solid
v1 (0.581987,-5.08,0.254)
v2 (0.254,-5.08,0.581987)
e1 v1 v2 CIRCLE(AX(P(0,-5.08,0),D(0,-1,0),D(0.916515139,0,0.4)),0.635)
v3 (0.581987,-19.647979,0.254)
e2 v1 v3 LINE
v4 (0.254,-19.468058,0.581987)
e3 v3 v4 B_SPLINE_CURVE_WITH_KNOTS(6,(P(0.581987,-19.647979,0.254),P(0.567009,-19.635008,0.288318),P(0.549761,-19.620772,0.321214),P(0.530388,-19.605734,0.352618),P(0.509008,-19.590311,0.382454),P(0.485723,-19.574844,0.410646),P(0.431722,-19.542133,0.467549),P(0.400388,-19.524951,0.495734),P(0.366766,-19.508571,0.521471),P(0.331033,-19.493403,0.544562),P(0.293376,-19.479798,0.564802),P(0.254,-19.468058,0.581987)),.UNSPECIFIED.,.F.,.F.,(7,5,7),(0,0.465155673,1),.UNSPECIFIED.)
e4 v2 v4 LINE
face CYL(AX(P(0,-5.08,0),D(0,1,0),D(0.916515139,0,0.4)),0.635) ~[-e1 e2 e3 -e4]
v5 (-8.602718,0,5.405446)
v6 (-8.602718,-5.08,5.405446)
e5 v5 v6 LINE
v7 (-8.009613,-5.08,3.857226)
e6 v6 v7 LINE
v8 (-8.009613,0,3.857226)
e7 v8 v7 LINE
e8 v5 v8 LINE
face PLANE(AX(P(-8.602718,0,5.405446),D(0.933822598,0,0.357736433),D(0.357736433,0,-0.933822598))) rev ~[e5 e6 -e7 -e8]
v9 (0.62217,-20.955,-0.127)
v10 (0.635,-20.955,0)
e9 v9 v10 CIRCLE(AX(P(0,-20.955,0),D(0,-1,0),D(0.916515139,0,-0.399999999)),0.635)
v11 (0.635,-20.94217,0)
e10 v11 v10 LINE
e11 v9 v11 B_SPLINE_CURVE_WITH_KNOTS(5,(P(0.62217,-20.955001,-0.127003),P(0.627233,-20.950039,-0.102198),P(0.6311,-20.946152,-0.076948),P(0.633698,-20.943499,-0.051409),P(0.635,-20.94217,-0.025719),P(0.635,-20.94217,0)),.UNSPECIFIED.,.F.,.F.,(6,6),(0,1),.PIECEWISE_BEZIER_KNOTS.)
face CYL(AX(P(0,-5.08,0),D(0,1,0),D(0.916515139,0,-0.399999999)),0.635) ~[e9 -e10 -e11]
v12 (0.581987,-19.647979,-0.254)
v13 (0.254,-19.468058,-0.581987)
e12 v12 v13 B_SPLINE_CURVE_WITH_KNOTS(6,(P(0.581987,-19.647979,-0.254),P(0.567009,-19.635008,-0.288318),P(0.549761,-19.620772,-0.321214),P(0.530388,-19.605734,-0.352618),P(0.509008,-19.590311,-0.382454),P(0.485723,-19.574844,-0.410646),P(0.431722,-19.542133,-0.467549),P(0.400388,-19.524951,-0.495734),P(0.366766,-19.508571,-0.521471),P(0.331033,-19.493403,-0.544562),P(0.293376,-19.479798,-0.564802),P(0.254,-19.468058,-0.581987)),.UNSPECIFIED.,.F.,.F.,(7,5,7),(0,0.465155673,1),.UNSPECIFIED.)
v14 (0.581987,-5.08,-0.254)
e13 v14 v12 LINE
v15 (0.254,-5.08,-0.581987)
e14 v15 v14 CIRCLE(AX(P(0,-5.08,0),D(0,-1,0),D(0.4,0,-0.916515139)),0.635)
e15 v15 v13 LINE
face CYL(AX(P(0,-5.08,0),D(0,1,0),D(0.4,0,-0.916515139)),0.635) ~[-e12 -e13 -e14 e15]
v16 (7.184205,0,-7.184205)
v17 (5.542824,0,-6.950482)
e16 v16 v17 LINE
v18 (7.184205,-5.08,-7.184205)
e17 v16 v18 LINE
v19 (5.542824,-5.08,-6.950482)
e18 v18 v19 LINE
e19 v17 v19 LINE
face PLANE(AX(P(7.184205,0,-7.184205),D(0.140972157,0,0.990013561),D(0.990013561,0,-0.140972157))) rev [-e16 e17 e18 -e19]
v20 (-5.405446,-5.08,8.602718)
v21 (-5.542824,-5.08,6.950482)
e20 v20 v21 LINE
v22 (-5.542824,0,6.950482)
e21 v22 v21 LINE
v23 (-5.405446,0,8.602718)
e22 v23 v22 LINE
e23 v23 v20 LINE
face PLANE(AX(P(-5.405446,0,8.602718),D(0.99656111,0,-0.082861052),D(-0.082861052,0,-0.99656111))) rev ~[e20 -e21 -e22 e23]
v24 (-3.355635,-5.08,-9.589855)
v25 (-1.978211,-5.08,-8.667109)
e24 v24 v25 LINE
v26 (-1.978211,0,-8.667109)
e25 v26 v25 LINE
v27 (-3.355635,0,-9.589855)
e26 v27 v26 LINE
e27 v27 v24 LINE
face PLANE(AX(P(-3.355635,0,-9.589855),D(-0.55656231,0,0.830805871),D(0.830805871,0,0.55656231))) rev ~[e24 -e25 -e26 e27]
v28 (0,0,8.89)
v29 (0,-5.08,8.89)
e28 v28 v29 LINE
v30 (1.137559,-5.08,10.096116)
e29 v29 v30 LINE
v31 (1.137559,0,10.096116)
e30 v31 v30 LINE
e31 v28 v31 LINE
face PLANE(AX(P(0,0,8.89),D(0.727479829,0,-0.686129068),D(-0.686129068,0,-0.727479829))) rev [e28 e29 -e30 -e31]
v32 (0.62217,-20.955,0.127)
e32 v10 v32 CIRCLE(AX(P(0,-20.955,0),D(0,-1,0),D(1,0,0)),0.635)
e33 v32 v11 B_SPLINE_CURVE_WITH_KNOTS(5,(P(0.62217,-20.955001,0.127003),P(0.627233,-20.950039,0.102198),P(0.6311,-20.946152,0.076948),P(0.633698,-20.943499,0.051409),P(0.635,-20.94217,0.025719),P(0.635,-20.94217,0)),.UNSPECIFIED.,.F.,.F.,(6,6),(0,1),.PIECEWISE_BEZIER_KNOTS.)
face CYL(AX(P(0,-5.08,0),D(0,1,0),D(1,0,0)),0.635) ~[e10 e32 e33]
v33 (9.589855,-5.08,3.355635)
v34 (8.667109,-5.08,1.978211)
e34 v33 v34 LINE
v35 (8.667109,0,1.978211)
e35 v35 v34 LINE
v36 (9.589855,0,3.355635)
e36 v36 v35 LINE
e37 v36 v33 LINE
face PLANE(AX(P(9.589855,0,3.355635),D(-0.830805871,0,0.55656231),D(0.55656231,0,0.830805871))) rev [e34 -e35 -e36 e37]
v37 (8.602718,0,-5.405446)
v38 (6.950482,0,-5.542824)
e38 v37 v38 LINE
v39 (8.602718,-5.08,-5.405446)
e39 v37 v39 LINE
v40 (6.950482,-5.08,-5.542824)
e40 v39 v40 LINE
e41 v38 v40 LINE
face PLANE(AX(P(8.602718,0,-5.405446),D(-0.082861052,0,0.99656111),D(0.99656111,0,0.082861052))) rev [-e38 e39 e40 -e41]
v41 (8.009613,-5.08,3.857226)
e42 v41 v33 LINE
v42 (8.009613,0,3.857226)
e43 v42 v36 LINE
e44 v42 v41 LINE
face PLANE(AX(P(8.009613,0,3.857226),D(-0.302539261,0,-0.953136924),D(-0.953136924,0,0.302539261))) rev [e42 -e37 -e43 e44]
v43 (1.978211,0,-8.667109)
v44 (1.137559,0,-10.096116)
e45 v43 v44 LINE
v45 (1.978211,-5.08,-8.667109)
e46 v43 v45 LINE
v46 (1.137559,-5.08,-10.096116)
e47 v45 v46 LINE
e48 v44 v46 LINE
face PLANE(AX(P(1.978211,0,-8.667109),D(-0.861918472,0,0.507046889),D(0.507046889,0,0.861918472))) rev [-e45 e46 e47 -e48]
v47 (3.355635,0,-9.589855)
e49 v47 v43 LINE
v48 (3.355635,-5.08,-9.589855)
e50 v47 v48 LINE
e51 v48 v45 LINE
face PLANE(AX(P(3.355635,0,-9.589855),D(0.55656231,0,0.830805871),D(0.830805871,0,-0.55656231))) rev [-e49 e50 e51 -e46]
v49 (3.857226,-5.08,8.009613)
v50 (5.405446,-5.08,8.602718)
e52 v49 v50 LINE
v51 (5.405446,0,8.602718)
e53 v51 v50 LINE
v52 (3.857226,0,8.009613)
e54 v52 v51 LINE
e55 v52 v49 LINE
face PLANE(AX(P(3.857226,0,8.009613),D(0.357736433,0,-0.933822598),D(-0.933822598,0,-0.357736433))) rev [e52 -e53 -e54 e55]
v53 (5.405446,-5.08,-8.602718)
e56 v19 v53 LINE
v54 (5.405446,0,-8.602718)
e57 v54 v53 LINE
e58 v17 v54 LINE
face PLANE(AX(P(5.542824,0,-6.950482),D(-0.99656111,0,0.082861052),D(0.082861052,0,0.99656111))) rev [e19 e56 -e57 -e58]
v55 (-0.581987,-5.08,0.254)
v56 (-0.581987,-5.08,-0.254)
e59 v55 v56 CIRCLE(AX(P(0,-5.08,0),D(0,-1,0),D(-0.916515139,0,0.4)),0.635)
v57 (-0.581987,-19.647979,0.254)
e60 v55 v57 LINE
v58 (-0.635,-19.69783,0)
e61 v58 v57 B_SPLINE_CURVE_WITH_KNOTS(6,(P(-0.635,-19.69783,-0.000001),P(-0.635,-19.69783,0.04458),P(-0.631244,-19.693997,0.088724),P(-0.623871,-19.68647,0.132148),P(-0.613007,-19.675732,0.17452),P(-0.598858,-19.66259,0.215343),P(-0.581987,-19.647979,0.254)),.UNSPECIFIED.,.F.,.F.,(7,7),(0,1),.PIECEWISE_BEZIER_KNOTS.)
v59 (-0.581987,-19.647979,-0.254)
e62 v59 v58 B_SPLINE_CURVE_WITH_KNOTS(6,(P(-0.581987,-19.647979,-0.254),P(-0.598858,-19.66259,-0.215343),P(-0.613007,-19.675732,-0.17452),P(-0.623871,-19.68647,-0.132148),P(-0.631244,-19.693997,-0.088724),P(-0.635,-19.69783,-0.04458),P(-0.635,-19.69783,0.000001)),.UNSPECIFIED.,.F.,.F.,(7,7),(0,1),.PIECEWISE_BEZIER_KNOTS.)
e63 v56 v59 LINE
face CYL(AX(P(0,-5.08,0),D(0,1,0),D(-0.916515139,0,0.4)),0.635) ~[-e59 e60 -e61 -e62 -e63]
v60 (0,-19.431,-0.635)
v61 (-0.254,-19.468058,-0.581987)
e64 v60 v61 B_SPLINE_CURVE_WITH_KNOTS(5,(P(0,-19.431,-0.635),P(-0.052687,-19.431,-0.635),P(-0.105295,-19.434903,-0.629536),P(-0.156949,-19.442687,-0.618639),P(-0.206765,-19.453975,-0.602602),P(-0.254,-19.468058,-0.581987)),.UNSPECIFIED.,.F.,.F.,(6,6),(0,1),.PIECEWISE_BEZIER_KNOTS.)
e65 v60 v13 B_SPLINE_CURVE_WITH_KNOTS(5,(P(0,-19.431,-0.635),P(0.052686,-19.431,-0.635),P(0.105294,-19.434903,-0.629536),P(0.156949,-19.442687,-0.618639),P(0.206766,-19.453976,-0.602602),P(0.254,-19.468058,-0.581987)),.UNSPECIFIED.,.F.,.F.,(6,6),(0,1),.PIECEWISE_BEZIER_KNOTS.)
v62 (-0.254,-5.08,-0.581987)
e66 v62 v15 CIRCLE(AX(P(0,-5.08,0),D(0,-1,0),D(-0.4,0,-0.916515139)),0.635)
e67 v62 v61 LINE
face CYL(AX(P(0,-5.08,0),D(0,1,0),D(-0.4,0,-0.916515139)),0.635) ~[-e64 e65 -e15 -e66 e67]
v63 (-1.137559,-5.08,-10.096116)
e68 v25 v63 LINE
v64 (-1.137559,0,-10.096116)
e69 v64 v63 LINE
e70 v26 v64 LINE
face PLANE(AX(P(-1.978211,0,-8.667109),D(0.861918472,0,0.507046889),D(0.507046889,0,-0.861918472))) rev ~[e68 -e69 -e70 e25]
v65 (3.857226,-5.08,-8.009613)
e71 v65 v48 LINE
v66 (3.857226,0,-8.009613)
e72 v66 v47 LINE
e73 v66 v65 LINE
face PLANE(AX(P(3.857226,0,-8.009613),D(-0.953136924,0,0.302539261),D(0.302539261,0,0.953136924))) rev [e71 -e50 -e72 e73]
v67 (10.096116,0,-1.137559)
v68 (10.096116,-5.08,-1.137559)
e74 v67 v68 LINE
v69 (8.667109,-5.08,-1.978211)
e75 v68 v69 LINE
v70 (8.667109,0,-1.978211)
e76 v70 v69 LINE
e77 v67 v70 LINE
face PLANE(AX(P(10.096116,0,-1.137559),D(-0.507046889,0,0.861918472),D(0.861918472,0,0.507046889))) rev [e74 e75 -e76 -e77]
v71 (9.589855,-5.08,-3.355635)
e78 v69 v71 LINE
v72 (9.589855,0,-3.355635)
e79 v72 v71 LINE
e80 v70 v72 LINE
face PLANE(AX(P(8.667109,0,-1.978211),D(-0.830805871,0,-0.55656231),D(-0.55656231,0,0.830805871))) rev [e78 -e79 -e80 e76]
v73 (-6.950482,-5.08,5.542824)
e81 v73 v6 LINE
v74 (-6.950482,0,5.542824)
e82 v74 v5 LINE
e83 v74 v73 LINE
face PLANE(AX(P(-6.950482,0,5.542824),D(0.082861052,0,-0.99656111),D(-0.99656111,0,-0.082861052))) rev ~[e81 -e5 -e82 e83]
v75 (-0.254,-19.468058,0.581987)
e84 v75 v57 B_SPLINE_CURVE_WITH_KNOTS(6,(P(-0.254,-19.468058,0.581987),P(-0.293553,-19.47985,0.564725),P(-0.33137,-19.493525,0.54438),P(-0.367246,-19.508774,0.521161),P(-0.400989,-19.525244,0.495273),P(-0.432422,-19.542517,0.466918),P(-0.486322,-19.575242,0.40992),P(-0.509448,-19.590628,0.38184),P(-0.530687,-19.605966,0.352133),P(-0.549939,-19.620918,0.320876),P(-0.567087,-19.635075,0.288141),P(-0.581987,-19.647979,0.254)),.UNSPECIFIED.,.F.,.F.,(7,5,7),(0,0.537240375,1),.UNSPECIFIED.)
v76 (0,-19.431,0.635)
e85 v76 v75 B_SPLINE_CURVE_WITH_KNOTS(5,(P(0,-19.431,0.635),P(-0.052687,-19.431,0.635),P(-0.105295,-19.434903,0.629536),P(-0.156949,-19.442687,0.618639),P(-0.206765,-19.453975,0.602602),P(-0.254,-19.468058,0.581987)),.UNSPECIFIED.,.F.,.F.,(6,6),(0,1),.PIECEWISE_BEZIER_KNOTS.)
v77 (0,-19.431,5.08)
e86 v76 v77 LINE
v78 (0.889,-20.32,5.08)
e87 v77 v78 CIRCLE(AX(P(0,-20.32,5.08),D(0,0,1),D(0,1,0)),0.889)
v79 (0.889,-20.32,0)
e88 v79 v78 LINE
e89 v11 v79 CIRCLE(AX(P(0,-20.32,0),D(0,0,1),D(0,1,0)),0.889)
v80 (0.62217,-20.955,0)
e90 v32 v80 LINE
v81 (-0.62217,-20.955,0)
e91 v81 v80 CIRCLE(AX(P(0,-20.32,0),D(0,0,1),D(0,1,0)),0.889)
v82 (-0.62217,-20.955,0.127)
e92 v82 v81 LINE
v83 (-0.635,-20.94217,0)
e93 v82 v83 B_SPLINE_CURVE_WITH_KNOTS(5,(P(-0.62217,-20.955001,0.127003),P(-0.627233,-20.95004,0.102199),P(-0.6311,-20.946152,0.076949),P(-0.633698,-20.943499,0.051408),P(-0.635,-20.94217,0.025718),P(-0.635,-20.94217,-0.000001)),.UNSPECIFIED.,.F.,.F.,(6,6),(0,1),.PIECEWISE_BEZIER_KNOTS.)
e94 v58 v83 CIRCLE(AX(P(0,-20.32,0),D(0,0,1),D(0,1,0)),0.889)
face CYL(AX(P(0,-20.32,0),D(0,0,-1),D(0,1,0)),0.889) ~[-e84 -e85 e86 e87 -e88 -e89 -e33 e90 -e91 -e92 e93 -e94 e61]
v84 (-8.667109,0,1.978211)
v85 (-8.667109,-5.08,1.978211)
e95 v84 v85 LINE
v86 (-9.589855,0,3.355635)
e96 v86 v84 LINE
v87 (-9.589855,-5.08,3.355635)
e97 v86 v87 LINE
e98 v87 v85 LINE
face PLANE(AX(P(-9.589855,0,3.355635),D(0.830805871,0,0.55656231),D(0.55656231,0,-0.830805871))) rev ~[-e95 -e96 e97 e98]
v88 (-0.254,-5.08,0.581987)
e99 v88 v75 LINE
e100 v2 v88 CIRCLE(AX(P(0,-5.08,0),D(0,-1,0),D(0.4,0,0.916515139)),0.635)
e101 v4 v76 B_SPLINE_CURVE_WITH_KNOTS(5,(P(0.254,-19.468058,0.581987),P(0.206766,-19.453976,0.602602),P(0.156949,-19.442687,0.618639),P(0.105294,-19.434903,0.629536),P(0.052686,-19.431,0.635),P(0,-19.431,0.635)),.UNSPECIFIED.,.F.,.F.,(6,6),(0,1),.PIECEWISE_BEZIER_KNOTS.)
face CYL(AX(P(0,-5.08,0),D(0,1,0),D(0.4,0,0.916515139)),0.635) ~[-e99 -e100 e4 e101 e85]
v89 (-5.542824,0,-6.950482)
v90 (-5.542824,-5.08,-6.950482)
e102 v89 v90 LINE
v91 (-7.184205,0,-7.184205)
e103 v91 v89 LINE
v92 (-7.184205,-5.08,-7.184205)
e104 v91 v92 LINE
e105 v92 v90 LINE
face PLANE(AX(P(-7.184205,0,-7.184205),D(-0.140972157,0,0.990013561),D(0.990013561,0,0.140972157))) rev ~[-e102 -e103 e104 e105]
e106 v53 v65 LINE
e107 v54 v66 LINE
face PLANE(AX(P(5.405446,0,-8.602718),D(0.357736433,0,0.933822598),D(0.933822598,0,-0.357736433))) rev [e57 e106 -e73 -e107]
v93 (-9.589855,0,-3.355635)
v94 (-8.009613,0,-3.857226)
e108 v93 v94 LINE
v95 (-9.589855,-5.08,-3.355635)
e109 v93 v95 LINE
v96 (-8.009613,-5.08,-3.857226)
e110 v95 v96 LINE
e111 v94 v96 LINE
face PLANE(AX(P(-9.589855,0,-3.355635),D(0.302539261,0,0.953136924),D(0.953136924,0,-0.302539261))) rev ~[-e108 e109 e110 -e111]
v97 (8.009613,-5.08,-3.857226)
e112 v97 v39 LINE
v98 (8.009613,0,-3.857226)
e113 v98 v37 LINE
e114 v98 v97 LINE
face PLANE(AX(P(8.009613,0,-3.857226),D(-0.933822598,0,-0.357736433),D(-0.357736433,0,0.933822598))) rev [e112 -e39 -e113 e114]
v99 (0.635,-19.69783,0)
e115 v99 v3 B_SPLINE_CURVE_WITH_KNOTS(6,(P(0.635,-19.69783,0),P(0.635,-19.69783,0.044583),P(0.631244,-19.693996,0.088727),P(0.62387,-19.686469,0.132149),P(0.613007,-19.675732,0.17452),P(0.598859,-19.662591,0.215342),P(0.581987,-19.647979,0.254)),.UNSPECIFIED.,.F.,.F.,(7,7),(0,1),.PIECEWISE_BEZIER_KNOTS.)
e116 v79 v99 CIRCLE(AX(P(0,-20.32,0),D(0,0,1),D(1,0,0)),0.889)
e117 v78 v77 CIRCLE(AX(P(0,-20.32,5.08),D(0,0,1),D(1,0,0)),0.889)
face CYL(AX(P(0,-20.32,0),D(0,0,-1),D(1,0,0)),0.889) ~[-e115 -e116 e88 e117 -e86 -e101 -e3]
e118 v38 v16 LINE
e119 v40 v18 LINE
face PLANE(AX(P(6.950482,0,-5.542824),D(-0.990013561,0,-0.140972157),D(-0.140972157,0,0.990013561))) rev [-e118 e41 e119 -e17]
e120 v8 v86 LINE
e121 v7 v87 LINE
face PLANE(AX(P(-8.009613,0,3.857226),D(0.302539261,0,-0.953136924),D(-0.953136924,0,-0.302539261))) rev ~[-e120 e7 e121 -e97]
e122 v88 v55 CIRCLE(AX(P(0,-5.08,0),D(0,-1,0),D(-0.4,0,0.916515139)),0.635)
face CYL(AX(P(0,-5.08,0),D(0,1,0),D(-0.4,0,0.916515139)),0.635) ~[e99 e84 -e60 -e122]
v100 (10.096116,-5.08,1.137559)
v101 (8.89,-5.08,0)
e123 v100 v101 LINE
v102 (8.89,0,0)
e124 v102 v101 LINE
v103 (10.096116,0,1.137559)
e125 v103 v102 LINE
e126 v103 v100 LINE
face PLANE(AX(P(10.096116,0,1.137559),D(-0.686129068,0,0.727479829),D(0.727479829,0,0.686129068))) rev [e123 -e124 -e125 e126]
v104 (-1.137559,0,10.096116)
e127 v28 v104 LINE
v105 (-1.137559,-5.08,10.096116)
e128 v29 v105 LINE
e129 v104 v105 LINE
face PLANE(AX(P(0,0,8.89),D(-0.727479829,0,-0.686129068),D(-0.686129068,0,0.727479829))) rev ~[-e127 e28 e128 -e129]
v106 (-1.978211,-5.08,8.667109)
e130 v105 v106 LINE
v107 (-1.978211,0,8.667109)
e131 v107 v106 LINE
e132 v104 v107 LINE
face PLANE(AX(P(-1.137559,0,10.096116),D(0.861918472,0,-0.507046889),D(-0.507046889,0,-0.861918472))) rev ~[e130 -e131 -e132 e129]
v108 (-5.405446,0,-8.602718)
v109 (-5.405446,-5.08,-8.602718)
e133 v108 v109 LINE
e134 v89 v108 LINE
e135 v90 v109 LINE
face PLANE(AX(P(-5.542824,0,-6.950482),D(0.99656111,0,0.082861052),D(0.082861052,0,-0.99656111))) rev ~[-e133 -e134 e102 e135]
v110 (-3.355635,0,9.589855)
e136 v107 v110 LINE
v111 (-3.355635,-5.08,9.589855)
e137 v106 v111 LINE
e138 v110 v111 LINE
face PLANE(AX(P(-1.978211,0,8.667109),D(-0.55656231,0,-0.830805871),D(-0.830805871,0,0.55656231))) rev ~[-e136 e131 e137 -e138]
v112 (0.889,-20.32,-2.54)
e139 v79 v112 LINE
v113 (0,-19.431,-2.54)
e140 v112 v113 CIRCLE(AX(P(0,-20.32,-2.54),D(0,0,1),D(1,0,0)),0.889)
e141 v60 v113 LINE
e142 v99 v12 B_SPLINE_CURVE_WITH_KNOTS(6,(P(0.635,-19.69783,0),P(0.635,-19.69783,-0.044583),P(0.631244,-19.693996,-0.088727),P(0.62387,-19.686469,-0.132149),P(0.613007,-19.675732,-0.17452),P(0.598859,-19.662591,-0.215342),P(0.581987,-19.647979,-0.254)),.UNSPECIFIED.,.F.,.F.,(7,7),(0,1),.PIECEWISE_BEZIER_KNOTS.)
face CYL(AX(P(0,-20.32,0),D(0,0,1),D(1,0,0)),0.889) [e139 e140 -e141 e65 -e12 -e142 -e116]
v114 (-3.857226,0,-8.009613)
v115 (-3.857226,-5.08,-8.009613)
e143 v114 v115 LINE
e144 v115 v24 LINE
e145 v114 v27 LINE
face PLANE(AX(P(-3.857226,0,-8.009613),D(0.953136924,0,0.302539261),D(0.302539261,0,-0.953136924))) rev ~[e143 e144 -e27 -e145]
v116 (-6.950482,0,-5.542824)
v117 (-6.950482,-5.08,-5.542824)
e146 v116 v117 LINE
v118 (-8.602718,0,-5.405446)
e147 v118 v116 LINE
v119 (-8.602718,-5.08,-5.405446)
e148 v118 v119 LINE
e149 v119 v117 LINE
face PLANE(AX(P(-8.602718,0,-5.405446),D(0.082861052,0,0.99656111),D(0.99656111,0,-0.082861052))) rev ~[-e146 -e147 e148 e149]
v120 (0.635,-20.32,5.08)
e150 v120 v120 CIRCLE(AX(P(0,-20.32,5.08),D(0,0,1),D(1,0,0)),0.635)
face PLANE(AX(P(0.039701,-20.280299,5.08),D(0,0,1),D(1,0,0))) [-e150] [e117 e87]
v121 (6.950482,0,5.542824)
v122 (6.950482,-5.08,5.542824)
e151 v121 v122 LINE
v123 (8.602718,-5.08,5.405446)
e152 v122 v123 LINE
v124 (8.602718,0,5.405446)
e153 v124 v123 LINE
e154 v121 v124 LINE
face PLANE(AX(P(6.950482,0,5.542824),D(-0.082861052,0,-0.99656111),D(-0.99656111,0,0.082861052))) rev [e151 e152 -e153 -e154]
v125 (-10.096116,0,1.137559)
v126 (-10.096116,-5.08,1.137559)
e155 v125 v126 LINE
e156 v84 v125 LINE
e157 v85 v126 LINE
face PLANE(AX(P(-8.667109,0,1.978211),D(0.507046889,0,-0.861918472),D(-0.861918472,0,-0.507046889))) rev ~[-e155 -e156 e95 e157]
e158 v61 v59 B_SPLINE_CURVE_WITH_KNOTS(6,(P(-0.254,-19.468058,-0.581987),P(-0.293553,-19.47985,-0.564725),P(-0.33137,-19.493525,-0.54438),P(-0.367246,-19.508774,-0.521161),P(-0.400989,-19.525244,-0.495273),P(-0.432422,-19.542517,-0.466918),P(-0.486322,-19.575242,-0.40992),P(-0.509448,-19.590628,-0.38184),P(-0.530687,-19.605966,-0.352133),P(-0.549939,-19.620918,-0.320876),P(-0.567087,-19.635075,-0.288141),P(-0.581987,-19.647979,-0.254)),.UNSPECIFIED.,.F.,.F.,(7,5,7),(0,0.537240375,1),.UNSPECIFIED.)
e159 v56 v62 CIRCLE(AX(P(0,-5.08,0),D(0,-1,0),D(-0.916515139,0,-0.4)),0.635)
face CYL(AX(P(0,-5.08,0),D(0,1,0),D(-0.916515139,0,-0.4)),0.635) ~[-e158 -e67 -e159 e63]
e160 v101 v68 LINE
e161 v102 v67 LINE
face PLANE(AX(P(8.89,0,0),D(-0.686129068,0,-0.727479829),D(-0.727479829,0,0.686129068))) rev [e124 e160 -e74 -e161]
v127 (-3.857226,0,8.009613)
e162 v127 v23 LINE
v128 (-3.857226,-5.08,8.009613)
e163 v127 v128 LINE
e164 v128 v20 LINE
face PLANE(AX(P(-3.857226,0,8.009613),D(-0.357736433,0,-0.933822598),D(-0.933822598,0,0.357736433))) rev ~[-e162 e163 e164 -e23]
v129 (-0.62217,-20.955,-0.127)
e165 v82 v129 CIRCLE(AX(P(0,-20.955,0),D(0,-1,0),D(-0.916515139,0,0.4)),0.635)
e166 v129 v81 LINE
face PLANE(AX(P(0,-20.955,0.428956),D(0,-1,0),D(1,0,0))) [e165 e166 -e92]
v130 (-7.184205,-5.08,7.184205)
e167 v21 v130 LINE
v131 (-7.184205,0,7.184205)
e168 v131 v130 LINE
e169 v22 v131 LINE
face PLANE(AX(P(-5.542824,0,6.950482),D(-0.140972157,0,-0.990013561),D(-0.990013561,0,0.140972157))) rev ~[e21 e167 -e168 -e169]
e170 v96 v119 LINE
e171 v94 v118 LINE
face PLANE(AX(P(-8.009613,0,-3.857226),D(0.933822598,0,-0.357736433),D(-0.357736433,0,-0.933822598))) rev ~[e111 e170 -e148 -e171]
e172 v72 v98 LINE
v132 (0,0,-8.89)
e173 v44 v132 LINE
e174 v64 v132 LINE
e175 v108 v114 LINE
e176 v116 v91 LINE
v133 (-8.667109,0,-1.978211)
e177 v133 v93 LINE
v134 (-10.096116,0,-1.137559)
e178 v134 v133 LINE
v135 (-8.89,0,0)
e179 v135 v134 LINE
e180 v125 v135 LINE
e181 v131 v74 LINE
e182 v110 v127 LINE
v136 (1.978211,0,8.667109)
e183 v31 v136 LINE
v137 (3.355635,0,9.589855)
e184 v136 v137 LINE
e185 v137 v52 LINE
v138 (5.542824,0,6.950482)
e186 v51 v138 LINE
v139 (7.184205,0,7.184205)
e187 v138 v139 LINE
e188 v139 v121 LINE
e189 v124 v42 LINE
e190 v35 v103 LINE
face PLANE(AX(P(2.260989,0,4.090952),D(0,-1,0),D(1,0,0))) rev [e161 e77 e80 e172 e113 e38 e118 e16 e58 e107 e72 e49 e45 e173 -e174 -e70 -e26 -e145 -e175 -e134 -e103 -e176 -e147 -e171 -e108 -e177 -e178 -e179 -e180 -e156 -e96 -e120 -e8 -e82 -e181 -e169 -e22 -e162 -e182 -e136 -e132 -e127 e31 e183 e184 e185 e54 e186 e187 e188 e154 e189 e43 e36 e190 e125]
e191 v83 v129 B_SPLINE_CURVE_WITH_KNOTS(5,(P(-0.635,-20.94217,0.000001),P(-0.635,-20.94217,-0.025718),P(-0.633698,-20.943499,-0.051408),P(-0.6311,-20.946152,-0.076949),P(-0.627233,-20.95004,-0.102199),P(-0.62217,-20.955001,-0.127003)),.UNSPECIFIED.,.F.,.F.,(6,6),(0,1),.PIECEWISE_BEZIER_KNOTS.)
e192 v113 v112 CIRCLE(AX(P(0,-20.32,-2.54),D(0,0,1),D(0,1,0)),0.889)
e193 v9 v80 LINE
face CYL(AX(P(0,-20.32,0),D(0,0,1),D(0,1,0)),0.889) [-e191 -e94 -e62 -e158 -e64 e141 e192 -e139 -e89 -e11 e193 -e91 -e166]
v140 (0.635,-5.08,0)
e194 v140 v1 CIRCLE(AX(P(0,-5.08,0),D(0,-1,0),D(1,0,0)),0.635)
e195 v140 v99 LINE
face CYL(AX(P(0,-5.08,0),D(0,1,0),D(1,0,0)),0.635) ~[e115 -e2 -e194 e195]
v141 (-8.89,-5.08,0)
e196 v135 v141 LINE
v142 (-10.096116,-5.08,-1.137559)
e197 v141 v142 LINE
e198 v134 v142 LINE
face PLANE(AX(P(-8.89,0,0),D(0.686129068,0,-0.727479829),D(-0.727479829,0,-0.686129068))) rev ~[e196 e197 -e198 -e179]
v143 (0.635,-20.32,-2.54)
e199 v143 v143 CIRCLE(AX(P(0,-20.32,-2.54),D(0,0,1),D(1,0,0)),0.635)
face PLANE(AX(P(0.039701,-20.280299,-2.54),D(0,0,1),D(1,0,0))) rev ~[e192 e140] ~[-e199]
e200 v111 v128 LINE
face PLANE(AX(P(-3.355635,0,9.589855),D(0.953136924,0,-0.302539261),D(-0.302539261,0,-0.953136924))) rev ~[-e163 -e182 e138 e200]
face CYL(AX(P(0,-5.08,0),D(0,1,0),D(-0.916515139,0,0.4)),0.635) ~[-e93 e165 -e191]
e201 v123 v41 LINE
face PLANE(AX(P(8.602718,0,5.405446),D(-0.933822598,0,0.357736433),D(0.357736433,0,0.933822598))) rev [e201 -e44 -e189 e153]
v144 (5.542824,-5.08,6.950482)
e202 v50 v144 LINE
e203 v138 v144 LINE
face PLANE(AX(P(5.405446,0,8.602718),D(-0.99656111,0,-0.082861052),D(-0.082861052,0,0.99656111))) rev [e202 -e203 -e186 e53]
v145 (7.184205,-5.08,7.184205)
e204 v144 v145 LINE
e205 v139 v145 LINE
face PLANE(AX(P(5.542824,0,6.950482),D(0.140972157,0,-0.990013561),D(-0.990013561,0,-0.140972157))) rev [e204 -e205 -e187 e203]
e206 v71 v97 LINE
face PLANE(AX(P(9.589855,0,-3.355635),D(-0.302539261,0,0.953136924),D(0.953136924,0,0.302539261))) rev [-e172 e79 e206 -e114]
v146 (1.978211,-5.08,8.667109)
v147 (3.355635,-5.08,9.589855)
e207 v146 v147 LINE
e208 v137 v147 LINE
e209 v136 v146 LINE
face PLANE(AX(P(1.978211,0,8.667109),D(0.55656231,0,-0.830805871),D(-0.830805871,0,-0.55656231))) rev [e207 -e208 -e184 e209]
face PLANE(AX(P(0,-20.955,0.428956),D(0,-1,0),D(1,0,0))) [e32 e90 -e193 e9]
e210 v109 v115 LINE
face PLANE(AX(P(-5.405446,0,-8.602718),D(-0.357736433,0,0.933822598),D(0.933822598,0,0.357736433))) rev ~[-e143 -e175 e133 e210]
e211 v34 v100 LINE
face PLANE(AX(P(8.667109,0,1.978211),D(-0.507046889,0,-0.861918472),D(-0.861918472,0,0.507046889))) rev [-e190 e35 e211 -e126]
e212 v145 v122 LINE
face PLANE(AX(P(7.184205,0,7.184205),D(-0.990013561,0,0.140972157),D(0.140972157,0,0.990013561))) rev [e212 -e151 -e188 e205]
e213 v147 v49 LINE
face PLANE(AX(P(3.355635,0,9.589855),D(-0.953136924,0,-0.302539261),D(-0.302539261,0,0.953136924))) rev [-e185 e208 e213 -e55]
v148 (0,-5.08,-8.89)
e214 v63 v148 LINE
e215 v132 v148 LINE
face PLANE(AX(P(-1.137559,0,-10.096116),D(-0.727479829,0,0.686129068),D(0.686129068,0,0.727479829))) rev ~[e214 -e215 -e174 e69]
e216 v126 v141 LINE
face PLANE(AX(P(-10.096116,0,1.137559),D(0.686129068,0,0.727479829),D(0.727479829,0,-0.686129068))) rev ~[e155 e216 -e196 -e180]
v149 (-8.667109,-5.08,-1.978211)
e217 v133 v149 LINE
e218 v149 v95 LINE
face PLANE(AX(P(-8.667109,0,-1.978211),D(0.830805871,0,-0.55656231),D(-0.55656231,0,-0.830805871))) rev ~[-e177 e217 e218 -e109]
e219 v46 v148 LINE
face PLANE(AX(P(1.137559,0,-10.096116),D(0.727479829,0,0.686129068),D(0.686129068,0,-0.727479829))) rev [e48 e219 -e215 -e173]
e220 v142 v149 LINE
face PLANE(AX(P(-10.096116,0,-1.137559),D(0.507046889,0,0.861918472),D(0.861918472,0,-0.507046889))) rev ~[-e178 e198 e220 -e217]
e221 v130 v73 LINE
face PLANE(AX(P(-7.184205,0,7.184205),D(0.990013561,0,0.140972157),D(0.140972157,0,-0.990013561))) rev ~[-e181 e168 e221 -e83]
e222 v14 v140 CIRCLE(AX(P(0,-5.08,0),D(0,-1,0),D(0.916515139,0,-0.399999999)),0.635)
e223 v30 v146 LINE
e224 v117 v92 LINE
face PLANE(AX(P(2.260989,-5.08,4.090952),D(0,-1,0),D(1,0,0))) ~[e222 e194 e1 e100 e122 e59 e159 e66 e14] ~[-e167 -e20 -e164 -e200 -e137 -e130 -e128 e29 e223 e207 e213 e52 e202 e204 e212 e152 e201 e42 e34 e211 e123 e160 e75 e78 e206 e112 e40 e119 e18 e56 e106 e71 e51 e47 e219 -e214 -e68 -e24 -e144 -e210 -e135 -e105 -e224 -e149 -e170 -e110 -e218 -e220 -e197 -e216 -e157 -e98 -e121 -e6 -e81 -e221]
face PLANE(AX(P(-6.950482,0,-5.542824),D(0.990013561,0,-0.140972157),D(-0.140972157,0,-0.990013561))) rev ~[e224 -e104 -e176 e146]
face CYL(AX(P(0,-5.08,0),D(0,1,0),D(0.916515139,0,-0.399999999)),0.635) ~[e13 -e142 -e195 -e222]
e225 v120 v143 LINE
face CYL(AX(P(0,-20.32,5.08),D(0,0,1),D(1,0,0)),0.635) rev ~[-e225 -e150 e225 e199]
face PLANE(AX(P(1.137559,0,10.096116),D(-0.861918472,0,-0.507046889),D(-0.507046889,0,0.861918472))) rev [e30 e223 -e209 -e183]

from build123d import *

# Parameters (mm, degrees)
F1_DEPTH      = 5.08
F3_W          = 0.508
F3_H          = 0.508
F4_DEPTH      = 15.875
F6_DEPTH      = 5.08
F6_DEPTH_BACK = 2.54
F7_R          = 0.635
F8_DEPTH      = 15.1771160525


with BuildPart() as f1:
    # F0 (on Front) → F1 (new body)
    with BuildSketch(Plane.XZ):
        with BuildLine():
            Line((-4.7297651602, 7.5273781311), (0, 0))
            Line((0, 0), (-3.8572264408, 8.0096132357))
            ThreePointArc((-3.8572264408, 8.0096132357), (-4.3002609064, 7.7807362208), (-4.7297651602, 7.5273781311))
        make_face()
        with BuildLine():
            Line((-5.5428243385, 6.9504818791), (0, 0))
            Line((0, 0), (-4.7297651602, 7.5273781311))
            ThreePointArc((-4.7297651602, 7.5273781311), (-5.144387823, 7.250336125), (-5.5428243385, 6.9504818791))
        make_face()
        with BuildLine():
            Line((-5.4054458974, 8.6027178642), (-5.5428243385, 6.9504818791))
            ThreePointArc((-5.5428243385, 6.9504818791), (-5.144387823, 7.250336125), (-4.7297651602, 7.5273781311))
            Line((-4.7297651602, 7.5273781311), (-5.4054458974, 8.6027178642))
        make_face()
        with BuildLine():
            Line((-5.4054458974, 8.6027178642), (-4.7297651602, 7.5273781311))
            ThreePointArc((-4.7297651602, 7.5273781311), (-4.3002609064, 7.7807362208), (-3.8572264408, 8.0096132357))
            Line((-3.8572264408, 8.0096132357), (-5.4054458974, 8.6027178642))
        make_face()
        with BuildLine():
            Line((-3.3556352695, 9.5898546359), (-3.8572264408, 8.0096132357))
            ThreePointArc((-3.8572264408, 8.0096132357), (-3.4020557137, 8.213289044), (-2.9361808608, 8.3911228064))
            Line((-2.9361808608, 8.3911228064), (-3.3556352695, 9.5898546359))
        make_face()
        with BuildLine():
            Line((-3.3556352695, 9.5898546359), (-2.9361808608, 8.3911228064))
            ThreePointArc((-2.9361808608, 8.3911228064), (-2.4610676966, 8.5425549921), (-1.9782111029, 8.6671091393))
            Line((-1.9782111029, 8.6671091393), (-3.3556352695, 9.5898546359))
        make_face()
        with BuildLine():
            Line((-2.9361808608, 8.3911228064), (0, 0))
            Line((0, 0), (-1.9782111029, 8.6671091393))
            ThreePointArc((-1.9782111029, 8.6671091393), (-2.4610676966, 8.5425549921), (-2.9361808608, 8.3911228064))
        make_face()
        with BuildLine():
            Line((-3.8572264408, 8.0096132357), (0, 0))
            Line((0, 0), (-2.9361808608, 8.3911228064))
            ThreePointArc((-2.9361808608, 8.3911228064), (-3.4020557137, 8.213289044), (-3.8572264408, 8.0096132357))
        make_face()
        with BuildLine():
            Line((-0.9953641926, 8.834101546), (0, 0))
            Line((0, 0), (0, 8.89))
            ThreePointArc((0, 8.89), (-0.4984662759, 8.8760143855), (-0.9953641926, 8.834101546))
        make_face()
        with BuildLine():
            ThreePointArc((-0.9953641926, 8.834101546), (-0.4984662759, 8.8760143855), (0, 8.89))
            Line((0, 8.89), (-1.1375590772, 10.0961160525))
            Line((-1.1375590772, 10.0961160525), (-0.9953641926, 8.834101546))
        make_face()
        with BuildLine():
            Line((-1.1375590772, 10.0961160525), (-1.9782111029, 8.6671091393))
            ThreePointArc((-1.9782111029, 8.6671091393), (-1.4891303252, 8.7643933546), (-0.9953641926, 8.834101546))
            Line((-0.9953641926, 8.834101546), (-1.1375590772, 10.0961160525))
        make_face()
        with BuildLine():
            Line((-1.9782111029, 8.6671091393), (0, 0))
            Line((0, 0), (-0.9953641926, 8.834101546))
            ThreePointArc((-0.9953641926, 8.834101546), (-1.4891303252, 8.7643933546), (-1.9782111029, 8.6671091393))
        make_face()
        with BuildLine():
            Line((-6.2861792847, 6.2861792847), (0, 0))
            Line((0, 0), (-5.5428243385, 6.9504818791))
            ThreePointArc((-5.5428243385, 6.9504818791), (-5.923821078, 6.6287588458), (-6.2861792847, 6.2861792847))
        make_face()
        with BuildLine():
            Line((-7.1842048969, 7.1842048969), (-6.2861792847, 6.2861792847))
            ThreePointArc((-6.2861792847, 6.2861792847), (-5.923821078, 6.6287588458), (-5.5428243385, 6.9504818791))
            Line((-5.5428243385, 6.9504818791), (-7.1842048969, 7.1842048969))
        make_face()
        with BuildLine():
            Line((-6.9504818791, 5.5428243385), (0, 0))
            Line((0, 0), (-6.2861792847, 6.2861792847))
            ThreePointArc((-6.2861792847, 6.2861792847), (-6.6287588458, 5.923821078), (-6.9504818791, 5.5428243385))
        make_face()
        with BuildLine():
            Line((-7.1842048969, 7.1842048969), (-6.9504818791, 5.5428243385))
            ThreePointArc((-6.9504818791, 5.5428243385), (-6.6287588458, 5.923821078), (-6.2861792847, 6.2861792847))
            Line((-6.2861792847, 6.2861792847), (-7.1842048969, 7.1842048969))
        make_face()
        with BuildLine():
            Line((-7.5273781311, 4.7297651602), (0, 0))
            Line((0, 0), (-6.9504818791, 5.5428243385))
            ThreePointArc((-6.9504818791, 5.5428243385), (-7.250336125, 5.144387823), (-7.5273781311, 4.7297651602))
        make_face()
        with BuildLine():
            Line((-8.6027178642, 5.4054458974), (-7.5273781311, 4.7297651602))
            ThreePointArc((-7.5273781311, 4.7297651602), (-7.250336125, 5.144387823), (-6.9504818791, 5.5428243385))
            Line((-6.9504818791, 5.5428243385), (-8.6027178642, 5.4054458974))
        make_face()
        with BuildLine():
            Line((-8.6027178642, 5.4054458974), (-8.0096132357, 3.8572264408))
            ThreePointArc((-8.0096132357, 3.8572264408), (-7.7807362208, 4.3002609064), (-7.5273781311, 4.7297651602))
            Line((-7.5273781311, 4.7297651602), (-8.6027178642, 5.4054458974))
        make_face()
        with BuildLine():
            Line((-8.0096132357, 3.8572264408), (0, 0))
            Line((0, 0), (-7.5273781311, 4.7297651602))
            ThreePointArc((-7.5273781311, 4.7297651602), (-7.7807362208, 4.3002609064), (-8.0096132357, 3.8572264408))
        make_face()
        with BuildLine():
            Line((-8.3911228064, 2.9361808608), (0, 0))
            Line((0, 0), (-8.0096132357, 3.8572264408))
            ThreePointArc((-8.0096132357, 3.8572264408), (-8.213289044, 3.4020557137), (-8.3911228064, 2.9361808608))
        make_face()
        with BuildLine():
            Line((-9.5898546359, 3.3556352695), (-8.3911228064, 2.9361808608))
            ThreePointArc((-8.3911228064, 2.9361808608), (-8.213289044, 3.4020557137), (-8.0096132357, 3.8572264408))
            Line((-8.0096132357, 3.8572264408), (-9.5898546359, 3.3556352695))
        make_face()
        with BuildLine():
            Line((-9.5898546359, 3.3556352695), (-8.6671091393, 1.9782111029))
            ThreePointArc((-8.6671091393, 1.9782111029), (-8.5425549921, 2.4610676966), (-8.3911228064, 2.9361808608))
            Line((-8.3911228064, 2.9361808608), (-9.5898546359, 3.3556352695))
        make_face()
        with BuildLine():
            Line((-8.6671091393, 1.9782111029), (0, 0))
            Line((0, 0), (-8.3911228064, 2.9361808608))
            ThreePointArc((-8.3911228064, 2.9361808608), (-8.5425549921, 2.4610676966), (-8.6671091393, 1.9782111029))
        make_face()
        with BuildLine():
            Line((-8.834101546, 0.9953641926), (0, 0))
            Line((0, 0), (-8.6671091393, 1.9782111029))
            ThreePointArc((-8.6671091393, 1.9782111029), (-8.7643933546, 1.4891303252), (-8.834101546, 0.9953641926))
        make_face()
        with BuildLine():
            Line((-10.0961160525, 1.1375590772), (-8.834101546, 0.9953641926))
            ThreePointArc((-8.834101546, 0.9953641926), (-8.7643933546, 1.4891303252), (-8.6671091393, 1.9782111029))
            Line((-8.6671091393, 1.9782111029), (-10.0961160525, 1.1375590772))
        make_face()
        with BuildLine():
            Line((-10.0961160525, 1.1375590772), (-8.89, 0))
            ThreePointArc((-8.89, 0), (-8.8760143855, 0.4984662759), (-8.834101546, 0.9953641926))
            Line((-8.834101546, 0.9953641926), (-10.0961160525, 1.1375590772))
        make_face()
        with BuildLine():
            Line((-8.89, 0), (0, 0))
            Line((0, 0), (-8.834101546, 0.9953641926))
            ThreePointArc((-8.834101546, 0.9953641926), (-8.8760143855, 0.4984662759), (-8.89, 0))
        make_face()
        with BuildLine():
            Line((-8.834101546, -0.9953641926), (0, 0))
            Line((0, 0), (-8.89, 0))
            ThreePointArc((-8.89, 0), (-8.8760143855, -0.4984662759), (-8.834101546, -0.9953641926))
        make_face()
        with BuildLine():
            Line((-10.0961160525, -1.1375590772), (-8.834101546, -0.9953641926))
            ThreePointArc((-8.834101546, -0.9953641926), (-8.8760143855, -0.4984662759), (-8.89, 0))
            Line((-8.89, 0), (-10.0961160525, -1.1375590772))
        make_face()
        with BuildLine():
            Line((-10.0961160525, -1.1375590772), (-8.6671091393, -1.9782111029))
            ThreePointArc((-8.6671091393, -1.9782111029), (-8.7643933546, -1.4891303252), (-8.834101546, -0.9953641926))
            Line((-8.834101546, -0.9953641926), (-10.0961160525, -1.1375590772))
        make_face()
        with BuildLine():
            Line((-8.6671091393, -1.9782111029), (0, 0))
            Line((0, 0), (-8.834101546, -0.9953641926))
            ThreePointArc((-8.834101546, -0.9953641926), (-8.7643933546, -1.4891303252), (-8.6671091393, -1.9782111029))
        make_face()
        with BuildLine():
            Line((-8.3911228064, -2.9361808608), (0, 0))
            Line((0, 0), (-8.6671091393, -1.9782111029))
            ThreePointArc((-8.6671091393, -1.9782111029), (-8.5425549921, -2.4610676966), (-8.3911228064, -2.9361808608))
        make_face()
        with BuildLine():
            Line((-9.5898546359, -3.3556352695), (-8.3911228064, -2.9361808608))
            ThreePointArc((-8.3911228064, -2.9361808608), (-8.5425549921, -2.4610676966), (-8.6671091393, -1.9782111029))
            Line((-8.6671091393, -1.9782111029), (-9.5898546359, -3.3556352695))
        make_face()
        with BuildLine():
            Line((-9.5898546359, -3.3556352695), (-8.0096132357, -3.8572264408))
            ThreePointArc((-8.0096132357, -3.8572264408), (-8.213289044, -3.4020557137), (-8.3911228064, -2.9361808608))
            Line((-8.3911228064, -2.9361808608), (-9.5898546359, -3.3556352695))
        make_face()
        with BuildLine():
            Line((-8.0096132357, -3.8572264408), (0, 0))
            Line((0, 0), (-8.3911228064, -2.9361808608))
            ThreePointArc((-8.3911228064, -2.9361808608), (-8.213289044, -3.4020557137), (-8.0096132357, -3.8572264408))
        make_face()
        with BuildLine():
            Line((-7.5273781311, -4.7297651602), (0, 0))
            Line((0, 0), (-8.0096132357, -3.8572264408))
            ThreePointArc((-8.0096132357, -3.8572264408), (-7.7807362208, -4.3002609064), (-7.5273781311, -4.7297651602))
        make_face()
        with BuildLine():
            Line((-8.6027178642, -5.4054458974), (-7.5273781311, -4.7297651602))
            ThreePointArc((-7.5273781311, -4.7297651602), (-7.7807362208, -4.3002609064), (-8.0096132357, -3.8572264408))
            Line((-8.0096132357, -3.8572264408), (-8.6027178642, -5.4054458974))
        make_face()
        with BuildLine():
            Line((-8.6027178642, -5.4054458974), (-6.9504818791, -5.5428243385))
            ThreePointArc((-6.9504818791, -5.5428243385), (-7.250336125, -5.144387823), (-7.5273781311, -4.7297651602))
            Line((-7.5273781311, -4.7297651602), (-8.6027178642, -5.4054458974))
        make_face()
        with BuildLine():
            Line((-6.9504818791, -5.5428243385), (0, 0))
            Line((0, 0), (-7.5273781311, -4.7297651602))
            ThreePointArc((-7.5273781311, -4.7297651602), (-7.250336125, -5.144387823), (-6.9504818791, -5.5428243385))
        make_face()
        with BuildLine():
            Line((-6.2861792847, -6.2861792847), (0, 0))
            Line((0, 0), (-6.9504818791, -5.5428243385))
            ThreePointArc((-6.9504818791, -5.5428243385), (-6.6287588458, -5.923821078), (-6.2861792847, -6.2861792847))
        make_face()
        with BuildLine():
            Line((-5.5428243385, -6.9504818791), (0, 0))
            Line((0, 0), (-6.2861792847, -6.2861792847))
            ThreePointArc((-6.2861792847, -6.2861792847), (-5.923821078, -6.6287588458), (-5.5428243385, -6.9504818791))
        make_face()
        with BuildLine():
            Line((-4.7297651602, -7.5273781311), (0, 0))
            Line((0, 0), (-5.5428243385, -6.9504818791))
            ThreePointArc((-5.5428243385, -6.9504818791), (-5.144387823, -7.250336125), (-4.7297651602, -7.5273781311))
        make_face()
        with BuildLine():
            Line((-7.1842048969, -7.1842048969), (-6.2861792847, -6.2861792847))
            ThreePointArc((-6.2861792847, -6.2861792847), (-6.6287588458, -5.923821078), (-6.9504818791, -5.5428243385))
            Line((-6.9504818791, -5.5428243385), (-7.1842048969, -7.1842048969))
        make_face()
        with BuildLine():
            Line((-7.1842048969, -7.1842048969), (-5.5428243385, -6.9504818791))
            ThreePointArc((-5.5428243385, -6.9504818791), (-5.923821078, -6.6287588458), (-6.2861792847, -6.2861792847))
            Line((-6.2861792847, -6.2861792847), (-7.1842048969, -7.1842048969))
        make_face()
        with BuildLine():
            Line((-5.4054458974, -8.6027178642), (-4.7297651602, -7.5273781311))
            ThreePointArc((-4.7297651602, -7.5273781311), (-5.144387823, -7.250336125), (-5.5428243385, -6.9504818791))
            Line((-5.5428243385, -6.9504818791), (-5.4054458974, -8.6027178642))
        make_face()
        with BuildLine():
            Line((-5.4054458974, -8.6027178642), (-3.8572264408, -8.0096132357))
            ThreePointArc((-3.8572264408, -8.0096132357), (-4.3002609064, -7.7807362208), (-4.7297651602, -7.5273781311))
            Line((-4.7297651602, -7.5273781311), (-5.4054458974, -8.6027178642))
        make_face()
        with BuildLine():
            Line((-2.9361808608, -8.3911228064), (0, 0))
            Line((0, 0), (-3.8572264408, -8.0096132357))
            ThreePointArc((-3.8572264408, -8.0096132357), (-3.4020557137, -8.213289044), (-2.9361808608, -8.3911228064))
        make_face()
        with BuildLine():
            Line((-3.3556352695, -9.5898546359), (-2.9361808608, -8.3911228064))
            ThreePointArc((-2.9361808608, -8.3911228064), (-3.4020557137, -8.213289044), (-3.8572264408, -8.0096132357))
            Line((-3.8572264408, -8.0096132357), (-3.3556352695, -9.5898546359))
        make_face()
        with BuildLine():
            Line((-3.3556352695, -9.5898546359), (-1.9782111029, -8.6671091393))
            ThreePointArc((-1.9782111029, -8.6671091393), (-2.4610676966, -8.5425549921), (-2.9361808608, -8.3911228064))
            Line((-2.9361808608, -8.3911228064), (-3.3556352695, -9.5898546359))
        make_face()
        with BuildLine():
            Line((-1.9782111029, -8.6671091393), (0, 0))
            Line((0, 0), (-2.9361808608, -8.3911228064))
            ThreePointArc((-2.9361808608, -8.3911228064), (-2.4610676966, -8.5425549921), (-1.9782111029, -8.6671091393))
        make_face()
        with BuildLine():
            Line((-0.9953641926, -8.834101546), (0, 0))
            Line((0, 0), (-1.9782111029, -8.6671091393))
            ThreePointArc((-1.9782111029, -8.6671091393), (-1.4891303252, -8.7643933546), (-0.9953641926, -8.834101546))
        make_face()
        with BuildLine():
            Line((-1.1375590772, -10.0961160525), (0, -8.89))
            ThreePointArc((0, -8.89), (-0.4984662759, -8.8760143855), (-0.9953641926, -8.834101546))
            Line((-0.9953641926, -8.834101546), (-1.1375590772, -10.0961160525))
        make_face()
        with BuildLine():
            ThreePointArc((-0.9953641926, -8.834101546), (-1.4891303252, -8.7643933546), (-1.9782111029, -8.6671091393))
            Line((-1.9782111029, -8.6671091393), (-1.1375590772, -10.0961160525))
            Line((-1.1375590772, -10.0961160525), (-0.9953641926, -8.834101546))
        make_face()
        with BuildLine():
            Line((0, -8.89), (0, 0))
            Line((0, 0), (-0.9953641926, -8.834101546))
            ThreePointArc((-0.9953641926, -8.834101546), (-0.4984662759, -8.8760143855), (0, -8.89))
        make_face()
        with BuildLine():
            Line((-3.8572264408, -8.0096132357), (0, 0))
            Line((0, 0), (-4.7297651602, -7.5273781311))
            ThreePointArc((-4.7297651602, -7.5273781311), (-4.3002609064, -7.7807362208), (-3.8572264408, -8.0096132357))
        make_face()
    extrude(amount=F1_DEPTH)

    # F2: F1 across plane


with BuildPart() as f1_1:
    add(f1.part)
    add(f1.part.mirror(Plane.YZ))

    # F3 (on face) → F4 (join)
    with BuildSketch(Plane.XZ.offset(5.08)):
        with BuildLine():
            Line((0.254, 0.254), (0.254, 0.5819871133))
            ThreePointArc((0.254, 0.5819871133), (0, 0.635), (-0.254, 0.5819871133))
            Line((-0.254, 0.5819871133), (-0.254, 0.254))
            Line((-0.254, 0.254), (0.254, 0.254))
        make_face()
        with BuildLine():
            Line((-0.254, -0.254), (-0.254, 0.254))
            Line((-0.254, 0.254), (-0.5819871133, 0.254))
            ThreePointArc((-0.5819871133, 0.254), (-0.635, 0), (-0.5819871133, -0.254))
            Line((-0.5819871133, -0.254), (-0.254, -0.254))
        make_face()
        Rectangle(F3_W, F3_H)
        with BuildLine():
            ThreePointArc((0.5819871133, -0.254), (0.6216055087, -0.1297366237), (0.635, 0))
            ThreePointArc((0.635, 0), (0.6216055087, 0.1297366237), (0.5819871133, 0.254))
            Line((0.5819871133, 0.254), (0.254, 0.254))
            Line((0.254, 0.254), (0.254, -0.254))
            Line((0.254, -0.254), (0.5819871133, -0.254))
        make_face()
        with BuildLine():
            ThreePointArc((-0.254, -0.5819871133), (0, -0.635), (0.254, -0.5819871133))
            Line((0.254, -0.5819871133), (0.254, -0.254))
            Line((0.254, -0.254), (-0.254, -0.254))
            Line((-0.254, -0.254), (-0.254, -0.5819871133))
        make_face()
        with BuildLine():
            Line((-0.254, 0.254), (-0.254, 0.5819871133))
            ThreePointArc((-0.254, 0.5819871133), (-0.4490128061, 0.4490128061), (-0.5819871133, 0.254))
            Line((-0.5819871133, 0.254), (-0.254, 0.254))
        make_face()
        with BuildLine():
            Line((0.254, 0.254), (0.5819871133, 0.254))
            ThreePointArc((0.5819871133, 0.254), (0.4490128061, 0.4490128061), (0.254, 0.5819871133))
            Line((0.254, 0.5819871133), (0.254, 0.254))
        make_face()
        with BuildLine():
            ThreePointArc((0.254, -0.5819871133), (0.4490128061, -0.4490128061), (0.5819871133, -0.254))
            Line((0.5819871133, -0.254), (0.254, -0.254))
            Line((0.254, -0.254), (0.254, -0.5819871133))
        make_face()
        with BuildLine():
            ThreePointArc((-0.5819871133, -0.254), (-0.4490128061, -0.4490128061), (-0.254, -0.5819871133))
            Line((-0.254, -0.5819871133), (-0.254, -0.254))
            Line((-0.254, -0.254), (-0.5819871133, -0.254))
        make_face()
    extrude(amount=F4_DEPTH)

    # F5 (on Top) → F6 (join, two sides)
    with BuildSketch(Plane.XY) as f6_sk:
        with BuildLine():
            ThreePointArc((0, -19.431), (-0.6286179285, -20.9486179285), (0.889, -20.32))
            ThreePointArc((0.889, -20.32), (0.6286179285, -19.6913820715), (0, -19.431))
        make_face()
    extrude(amount=F6_DEPTH)
    extrude(f6_sk.sketch, amount=-F6_DEPTH_BACK)

    # F7 (on face) → F8 (cut, through all)
    with BuildSketch(Plane.XY.offset(5.08)):
        with Locations((0, -20.32)):
            Circle(F7_R)
    extrude(amount=-F8_DEPTH, mode=Mode.SUBTRACT)


solid = f1_1.part
